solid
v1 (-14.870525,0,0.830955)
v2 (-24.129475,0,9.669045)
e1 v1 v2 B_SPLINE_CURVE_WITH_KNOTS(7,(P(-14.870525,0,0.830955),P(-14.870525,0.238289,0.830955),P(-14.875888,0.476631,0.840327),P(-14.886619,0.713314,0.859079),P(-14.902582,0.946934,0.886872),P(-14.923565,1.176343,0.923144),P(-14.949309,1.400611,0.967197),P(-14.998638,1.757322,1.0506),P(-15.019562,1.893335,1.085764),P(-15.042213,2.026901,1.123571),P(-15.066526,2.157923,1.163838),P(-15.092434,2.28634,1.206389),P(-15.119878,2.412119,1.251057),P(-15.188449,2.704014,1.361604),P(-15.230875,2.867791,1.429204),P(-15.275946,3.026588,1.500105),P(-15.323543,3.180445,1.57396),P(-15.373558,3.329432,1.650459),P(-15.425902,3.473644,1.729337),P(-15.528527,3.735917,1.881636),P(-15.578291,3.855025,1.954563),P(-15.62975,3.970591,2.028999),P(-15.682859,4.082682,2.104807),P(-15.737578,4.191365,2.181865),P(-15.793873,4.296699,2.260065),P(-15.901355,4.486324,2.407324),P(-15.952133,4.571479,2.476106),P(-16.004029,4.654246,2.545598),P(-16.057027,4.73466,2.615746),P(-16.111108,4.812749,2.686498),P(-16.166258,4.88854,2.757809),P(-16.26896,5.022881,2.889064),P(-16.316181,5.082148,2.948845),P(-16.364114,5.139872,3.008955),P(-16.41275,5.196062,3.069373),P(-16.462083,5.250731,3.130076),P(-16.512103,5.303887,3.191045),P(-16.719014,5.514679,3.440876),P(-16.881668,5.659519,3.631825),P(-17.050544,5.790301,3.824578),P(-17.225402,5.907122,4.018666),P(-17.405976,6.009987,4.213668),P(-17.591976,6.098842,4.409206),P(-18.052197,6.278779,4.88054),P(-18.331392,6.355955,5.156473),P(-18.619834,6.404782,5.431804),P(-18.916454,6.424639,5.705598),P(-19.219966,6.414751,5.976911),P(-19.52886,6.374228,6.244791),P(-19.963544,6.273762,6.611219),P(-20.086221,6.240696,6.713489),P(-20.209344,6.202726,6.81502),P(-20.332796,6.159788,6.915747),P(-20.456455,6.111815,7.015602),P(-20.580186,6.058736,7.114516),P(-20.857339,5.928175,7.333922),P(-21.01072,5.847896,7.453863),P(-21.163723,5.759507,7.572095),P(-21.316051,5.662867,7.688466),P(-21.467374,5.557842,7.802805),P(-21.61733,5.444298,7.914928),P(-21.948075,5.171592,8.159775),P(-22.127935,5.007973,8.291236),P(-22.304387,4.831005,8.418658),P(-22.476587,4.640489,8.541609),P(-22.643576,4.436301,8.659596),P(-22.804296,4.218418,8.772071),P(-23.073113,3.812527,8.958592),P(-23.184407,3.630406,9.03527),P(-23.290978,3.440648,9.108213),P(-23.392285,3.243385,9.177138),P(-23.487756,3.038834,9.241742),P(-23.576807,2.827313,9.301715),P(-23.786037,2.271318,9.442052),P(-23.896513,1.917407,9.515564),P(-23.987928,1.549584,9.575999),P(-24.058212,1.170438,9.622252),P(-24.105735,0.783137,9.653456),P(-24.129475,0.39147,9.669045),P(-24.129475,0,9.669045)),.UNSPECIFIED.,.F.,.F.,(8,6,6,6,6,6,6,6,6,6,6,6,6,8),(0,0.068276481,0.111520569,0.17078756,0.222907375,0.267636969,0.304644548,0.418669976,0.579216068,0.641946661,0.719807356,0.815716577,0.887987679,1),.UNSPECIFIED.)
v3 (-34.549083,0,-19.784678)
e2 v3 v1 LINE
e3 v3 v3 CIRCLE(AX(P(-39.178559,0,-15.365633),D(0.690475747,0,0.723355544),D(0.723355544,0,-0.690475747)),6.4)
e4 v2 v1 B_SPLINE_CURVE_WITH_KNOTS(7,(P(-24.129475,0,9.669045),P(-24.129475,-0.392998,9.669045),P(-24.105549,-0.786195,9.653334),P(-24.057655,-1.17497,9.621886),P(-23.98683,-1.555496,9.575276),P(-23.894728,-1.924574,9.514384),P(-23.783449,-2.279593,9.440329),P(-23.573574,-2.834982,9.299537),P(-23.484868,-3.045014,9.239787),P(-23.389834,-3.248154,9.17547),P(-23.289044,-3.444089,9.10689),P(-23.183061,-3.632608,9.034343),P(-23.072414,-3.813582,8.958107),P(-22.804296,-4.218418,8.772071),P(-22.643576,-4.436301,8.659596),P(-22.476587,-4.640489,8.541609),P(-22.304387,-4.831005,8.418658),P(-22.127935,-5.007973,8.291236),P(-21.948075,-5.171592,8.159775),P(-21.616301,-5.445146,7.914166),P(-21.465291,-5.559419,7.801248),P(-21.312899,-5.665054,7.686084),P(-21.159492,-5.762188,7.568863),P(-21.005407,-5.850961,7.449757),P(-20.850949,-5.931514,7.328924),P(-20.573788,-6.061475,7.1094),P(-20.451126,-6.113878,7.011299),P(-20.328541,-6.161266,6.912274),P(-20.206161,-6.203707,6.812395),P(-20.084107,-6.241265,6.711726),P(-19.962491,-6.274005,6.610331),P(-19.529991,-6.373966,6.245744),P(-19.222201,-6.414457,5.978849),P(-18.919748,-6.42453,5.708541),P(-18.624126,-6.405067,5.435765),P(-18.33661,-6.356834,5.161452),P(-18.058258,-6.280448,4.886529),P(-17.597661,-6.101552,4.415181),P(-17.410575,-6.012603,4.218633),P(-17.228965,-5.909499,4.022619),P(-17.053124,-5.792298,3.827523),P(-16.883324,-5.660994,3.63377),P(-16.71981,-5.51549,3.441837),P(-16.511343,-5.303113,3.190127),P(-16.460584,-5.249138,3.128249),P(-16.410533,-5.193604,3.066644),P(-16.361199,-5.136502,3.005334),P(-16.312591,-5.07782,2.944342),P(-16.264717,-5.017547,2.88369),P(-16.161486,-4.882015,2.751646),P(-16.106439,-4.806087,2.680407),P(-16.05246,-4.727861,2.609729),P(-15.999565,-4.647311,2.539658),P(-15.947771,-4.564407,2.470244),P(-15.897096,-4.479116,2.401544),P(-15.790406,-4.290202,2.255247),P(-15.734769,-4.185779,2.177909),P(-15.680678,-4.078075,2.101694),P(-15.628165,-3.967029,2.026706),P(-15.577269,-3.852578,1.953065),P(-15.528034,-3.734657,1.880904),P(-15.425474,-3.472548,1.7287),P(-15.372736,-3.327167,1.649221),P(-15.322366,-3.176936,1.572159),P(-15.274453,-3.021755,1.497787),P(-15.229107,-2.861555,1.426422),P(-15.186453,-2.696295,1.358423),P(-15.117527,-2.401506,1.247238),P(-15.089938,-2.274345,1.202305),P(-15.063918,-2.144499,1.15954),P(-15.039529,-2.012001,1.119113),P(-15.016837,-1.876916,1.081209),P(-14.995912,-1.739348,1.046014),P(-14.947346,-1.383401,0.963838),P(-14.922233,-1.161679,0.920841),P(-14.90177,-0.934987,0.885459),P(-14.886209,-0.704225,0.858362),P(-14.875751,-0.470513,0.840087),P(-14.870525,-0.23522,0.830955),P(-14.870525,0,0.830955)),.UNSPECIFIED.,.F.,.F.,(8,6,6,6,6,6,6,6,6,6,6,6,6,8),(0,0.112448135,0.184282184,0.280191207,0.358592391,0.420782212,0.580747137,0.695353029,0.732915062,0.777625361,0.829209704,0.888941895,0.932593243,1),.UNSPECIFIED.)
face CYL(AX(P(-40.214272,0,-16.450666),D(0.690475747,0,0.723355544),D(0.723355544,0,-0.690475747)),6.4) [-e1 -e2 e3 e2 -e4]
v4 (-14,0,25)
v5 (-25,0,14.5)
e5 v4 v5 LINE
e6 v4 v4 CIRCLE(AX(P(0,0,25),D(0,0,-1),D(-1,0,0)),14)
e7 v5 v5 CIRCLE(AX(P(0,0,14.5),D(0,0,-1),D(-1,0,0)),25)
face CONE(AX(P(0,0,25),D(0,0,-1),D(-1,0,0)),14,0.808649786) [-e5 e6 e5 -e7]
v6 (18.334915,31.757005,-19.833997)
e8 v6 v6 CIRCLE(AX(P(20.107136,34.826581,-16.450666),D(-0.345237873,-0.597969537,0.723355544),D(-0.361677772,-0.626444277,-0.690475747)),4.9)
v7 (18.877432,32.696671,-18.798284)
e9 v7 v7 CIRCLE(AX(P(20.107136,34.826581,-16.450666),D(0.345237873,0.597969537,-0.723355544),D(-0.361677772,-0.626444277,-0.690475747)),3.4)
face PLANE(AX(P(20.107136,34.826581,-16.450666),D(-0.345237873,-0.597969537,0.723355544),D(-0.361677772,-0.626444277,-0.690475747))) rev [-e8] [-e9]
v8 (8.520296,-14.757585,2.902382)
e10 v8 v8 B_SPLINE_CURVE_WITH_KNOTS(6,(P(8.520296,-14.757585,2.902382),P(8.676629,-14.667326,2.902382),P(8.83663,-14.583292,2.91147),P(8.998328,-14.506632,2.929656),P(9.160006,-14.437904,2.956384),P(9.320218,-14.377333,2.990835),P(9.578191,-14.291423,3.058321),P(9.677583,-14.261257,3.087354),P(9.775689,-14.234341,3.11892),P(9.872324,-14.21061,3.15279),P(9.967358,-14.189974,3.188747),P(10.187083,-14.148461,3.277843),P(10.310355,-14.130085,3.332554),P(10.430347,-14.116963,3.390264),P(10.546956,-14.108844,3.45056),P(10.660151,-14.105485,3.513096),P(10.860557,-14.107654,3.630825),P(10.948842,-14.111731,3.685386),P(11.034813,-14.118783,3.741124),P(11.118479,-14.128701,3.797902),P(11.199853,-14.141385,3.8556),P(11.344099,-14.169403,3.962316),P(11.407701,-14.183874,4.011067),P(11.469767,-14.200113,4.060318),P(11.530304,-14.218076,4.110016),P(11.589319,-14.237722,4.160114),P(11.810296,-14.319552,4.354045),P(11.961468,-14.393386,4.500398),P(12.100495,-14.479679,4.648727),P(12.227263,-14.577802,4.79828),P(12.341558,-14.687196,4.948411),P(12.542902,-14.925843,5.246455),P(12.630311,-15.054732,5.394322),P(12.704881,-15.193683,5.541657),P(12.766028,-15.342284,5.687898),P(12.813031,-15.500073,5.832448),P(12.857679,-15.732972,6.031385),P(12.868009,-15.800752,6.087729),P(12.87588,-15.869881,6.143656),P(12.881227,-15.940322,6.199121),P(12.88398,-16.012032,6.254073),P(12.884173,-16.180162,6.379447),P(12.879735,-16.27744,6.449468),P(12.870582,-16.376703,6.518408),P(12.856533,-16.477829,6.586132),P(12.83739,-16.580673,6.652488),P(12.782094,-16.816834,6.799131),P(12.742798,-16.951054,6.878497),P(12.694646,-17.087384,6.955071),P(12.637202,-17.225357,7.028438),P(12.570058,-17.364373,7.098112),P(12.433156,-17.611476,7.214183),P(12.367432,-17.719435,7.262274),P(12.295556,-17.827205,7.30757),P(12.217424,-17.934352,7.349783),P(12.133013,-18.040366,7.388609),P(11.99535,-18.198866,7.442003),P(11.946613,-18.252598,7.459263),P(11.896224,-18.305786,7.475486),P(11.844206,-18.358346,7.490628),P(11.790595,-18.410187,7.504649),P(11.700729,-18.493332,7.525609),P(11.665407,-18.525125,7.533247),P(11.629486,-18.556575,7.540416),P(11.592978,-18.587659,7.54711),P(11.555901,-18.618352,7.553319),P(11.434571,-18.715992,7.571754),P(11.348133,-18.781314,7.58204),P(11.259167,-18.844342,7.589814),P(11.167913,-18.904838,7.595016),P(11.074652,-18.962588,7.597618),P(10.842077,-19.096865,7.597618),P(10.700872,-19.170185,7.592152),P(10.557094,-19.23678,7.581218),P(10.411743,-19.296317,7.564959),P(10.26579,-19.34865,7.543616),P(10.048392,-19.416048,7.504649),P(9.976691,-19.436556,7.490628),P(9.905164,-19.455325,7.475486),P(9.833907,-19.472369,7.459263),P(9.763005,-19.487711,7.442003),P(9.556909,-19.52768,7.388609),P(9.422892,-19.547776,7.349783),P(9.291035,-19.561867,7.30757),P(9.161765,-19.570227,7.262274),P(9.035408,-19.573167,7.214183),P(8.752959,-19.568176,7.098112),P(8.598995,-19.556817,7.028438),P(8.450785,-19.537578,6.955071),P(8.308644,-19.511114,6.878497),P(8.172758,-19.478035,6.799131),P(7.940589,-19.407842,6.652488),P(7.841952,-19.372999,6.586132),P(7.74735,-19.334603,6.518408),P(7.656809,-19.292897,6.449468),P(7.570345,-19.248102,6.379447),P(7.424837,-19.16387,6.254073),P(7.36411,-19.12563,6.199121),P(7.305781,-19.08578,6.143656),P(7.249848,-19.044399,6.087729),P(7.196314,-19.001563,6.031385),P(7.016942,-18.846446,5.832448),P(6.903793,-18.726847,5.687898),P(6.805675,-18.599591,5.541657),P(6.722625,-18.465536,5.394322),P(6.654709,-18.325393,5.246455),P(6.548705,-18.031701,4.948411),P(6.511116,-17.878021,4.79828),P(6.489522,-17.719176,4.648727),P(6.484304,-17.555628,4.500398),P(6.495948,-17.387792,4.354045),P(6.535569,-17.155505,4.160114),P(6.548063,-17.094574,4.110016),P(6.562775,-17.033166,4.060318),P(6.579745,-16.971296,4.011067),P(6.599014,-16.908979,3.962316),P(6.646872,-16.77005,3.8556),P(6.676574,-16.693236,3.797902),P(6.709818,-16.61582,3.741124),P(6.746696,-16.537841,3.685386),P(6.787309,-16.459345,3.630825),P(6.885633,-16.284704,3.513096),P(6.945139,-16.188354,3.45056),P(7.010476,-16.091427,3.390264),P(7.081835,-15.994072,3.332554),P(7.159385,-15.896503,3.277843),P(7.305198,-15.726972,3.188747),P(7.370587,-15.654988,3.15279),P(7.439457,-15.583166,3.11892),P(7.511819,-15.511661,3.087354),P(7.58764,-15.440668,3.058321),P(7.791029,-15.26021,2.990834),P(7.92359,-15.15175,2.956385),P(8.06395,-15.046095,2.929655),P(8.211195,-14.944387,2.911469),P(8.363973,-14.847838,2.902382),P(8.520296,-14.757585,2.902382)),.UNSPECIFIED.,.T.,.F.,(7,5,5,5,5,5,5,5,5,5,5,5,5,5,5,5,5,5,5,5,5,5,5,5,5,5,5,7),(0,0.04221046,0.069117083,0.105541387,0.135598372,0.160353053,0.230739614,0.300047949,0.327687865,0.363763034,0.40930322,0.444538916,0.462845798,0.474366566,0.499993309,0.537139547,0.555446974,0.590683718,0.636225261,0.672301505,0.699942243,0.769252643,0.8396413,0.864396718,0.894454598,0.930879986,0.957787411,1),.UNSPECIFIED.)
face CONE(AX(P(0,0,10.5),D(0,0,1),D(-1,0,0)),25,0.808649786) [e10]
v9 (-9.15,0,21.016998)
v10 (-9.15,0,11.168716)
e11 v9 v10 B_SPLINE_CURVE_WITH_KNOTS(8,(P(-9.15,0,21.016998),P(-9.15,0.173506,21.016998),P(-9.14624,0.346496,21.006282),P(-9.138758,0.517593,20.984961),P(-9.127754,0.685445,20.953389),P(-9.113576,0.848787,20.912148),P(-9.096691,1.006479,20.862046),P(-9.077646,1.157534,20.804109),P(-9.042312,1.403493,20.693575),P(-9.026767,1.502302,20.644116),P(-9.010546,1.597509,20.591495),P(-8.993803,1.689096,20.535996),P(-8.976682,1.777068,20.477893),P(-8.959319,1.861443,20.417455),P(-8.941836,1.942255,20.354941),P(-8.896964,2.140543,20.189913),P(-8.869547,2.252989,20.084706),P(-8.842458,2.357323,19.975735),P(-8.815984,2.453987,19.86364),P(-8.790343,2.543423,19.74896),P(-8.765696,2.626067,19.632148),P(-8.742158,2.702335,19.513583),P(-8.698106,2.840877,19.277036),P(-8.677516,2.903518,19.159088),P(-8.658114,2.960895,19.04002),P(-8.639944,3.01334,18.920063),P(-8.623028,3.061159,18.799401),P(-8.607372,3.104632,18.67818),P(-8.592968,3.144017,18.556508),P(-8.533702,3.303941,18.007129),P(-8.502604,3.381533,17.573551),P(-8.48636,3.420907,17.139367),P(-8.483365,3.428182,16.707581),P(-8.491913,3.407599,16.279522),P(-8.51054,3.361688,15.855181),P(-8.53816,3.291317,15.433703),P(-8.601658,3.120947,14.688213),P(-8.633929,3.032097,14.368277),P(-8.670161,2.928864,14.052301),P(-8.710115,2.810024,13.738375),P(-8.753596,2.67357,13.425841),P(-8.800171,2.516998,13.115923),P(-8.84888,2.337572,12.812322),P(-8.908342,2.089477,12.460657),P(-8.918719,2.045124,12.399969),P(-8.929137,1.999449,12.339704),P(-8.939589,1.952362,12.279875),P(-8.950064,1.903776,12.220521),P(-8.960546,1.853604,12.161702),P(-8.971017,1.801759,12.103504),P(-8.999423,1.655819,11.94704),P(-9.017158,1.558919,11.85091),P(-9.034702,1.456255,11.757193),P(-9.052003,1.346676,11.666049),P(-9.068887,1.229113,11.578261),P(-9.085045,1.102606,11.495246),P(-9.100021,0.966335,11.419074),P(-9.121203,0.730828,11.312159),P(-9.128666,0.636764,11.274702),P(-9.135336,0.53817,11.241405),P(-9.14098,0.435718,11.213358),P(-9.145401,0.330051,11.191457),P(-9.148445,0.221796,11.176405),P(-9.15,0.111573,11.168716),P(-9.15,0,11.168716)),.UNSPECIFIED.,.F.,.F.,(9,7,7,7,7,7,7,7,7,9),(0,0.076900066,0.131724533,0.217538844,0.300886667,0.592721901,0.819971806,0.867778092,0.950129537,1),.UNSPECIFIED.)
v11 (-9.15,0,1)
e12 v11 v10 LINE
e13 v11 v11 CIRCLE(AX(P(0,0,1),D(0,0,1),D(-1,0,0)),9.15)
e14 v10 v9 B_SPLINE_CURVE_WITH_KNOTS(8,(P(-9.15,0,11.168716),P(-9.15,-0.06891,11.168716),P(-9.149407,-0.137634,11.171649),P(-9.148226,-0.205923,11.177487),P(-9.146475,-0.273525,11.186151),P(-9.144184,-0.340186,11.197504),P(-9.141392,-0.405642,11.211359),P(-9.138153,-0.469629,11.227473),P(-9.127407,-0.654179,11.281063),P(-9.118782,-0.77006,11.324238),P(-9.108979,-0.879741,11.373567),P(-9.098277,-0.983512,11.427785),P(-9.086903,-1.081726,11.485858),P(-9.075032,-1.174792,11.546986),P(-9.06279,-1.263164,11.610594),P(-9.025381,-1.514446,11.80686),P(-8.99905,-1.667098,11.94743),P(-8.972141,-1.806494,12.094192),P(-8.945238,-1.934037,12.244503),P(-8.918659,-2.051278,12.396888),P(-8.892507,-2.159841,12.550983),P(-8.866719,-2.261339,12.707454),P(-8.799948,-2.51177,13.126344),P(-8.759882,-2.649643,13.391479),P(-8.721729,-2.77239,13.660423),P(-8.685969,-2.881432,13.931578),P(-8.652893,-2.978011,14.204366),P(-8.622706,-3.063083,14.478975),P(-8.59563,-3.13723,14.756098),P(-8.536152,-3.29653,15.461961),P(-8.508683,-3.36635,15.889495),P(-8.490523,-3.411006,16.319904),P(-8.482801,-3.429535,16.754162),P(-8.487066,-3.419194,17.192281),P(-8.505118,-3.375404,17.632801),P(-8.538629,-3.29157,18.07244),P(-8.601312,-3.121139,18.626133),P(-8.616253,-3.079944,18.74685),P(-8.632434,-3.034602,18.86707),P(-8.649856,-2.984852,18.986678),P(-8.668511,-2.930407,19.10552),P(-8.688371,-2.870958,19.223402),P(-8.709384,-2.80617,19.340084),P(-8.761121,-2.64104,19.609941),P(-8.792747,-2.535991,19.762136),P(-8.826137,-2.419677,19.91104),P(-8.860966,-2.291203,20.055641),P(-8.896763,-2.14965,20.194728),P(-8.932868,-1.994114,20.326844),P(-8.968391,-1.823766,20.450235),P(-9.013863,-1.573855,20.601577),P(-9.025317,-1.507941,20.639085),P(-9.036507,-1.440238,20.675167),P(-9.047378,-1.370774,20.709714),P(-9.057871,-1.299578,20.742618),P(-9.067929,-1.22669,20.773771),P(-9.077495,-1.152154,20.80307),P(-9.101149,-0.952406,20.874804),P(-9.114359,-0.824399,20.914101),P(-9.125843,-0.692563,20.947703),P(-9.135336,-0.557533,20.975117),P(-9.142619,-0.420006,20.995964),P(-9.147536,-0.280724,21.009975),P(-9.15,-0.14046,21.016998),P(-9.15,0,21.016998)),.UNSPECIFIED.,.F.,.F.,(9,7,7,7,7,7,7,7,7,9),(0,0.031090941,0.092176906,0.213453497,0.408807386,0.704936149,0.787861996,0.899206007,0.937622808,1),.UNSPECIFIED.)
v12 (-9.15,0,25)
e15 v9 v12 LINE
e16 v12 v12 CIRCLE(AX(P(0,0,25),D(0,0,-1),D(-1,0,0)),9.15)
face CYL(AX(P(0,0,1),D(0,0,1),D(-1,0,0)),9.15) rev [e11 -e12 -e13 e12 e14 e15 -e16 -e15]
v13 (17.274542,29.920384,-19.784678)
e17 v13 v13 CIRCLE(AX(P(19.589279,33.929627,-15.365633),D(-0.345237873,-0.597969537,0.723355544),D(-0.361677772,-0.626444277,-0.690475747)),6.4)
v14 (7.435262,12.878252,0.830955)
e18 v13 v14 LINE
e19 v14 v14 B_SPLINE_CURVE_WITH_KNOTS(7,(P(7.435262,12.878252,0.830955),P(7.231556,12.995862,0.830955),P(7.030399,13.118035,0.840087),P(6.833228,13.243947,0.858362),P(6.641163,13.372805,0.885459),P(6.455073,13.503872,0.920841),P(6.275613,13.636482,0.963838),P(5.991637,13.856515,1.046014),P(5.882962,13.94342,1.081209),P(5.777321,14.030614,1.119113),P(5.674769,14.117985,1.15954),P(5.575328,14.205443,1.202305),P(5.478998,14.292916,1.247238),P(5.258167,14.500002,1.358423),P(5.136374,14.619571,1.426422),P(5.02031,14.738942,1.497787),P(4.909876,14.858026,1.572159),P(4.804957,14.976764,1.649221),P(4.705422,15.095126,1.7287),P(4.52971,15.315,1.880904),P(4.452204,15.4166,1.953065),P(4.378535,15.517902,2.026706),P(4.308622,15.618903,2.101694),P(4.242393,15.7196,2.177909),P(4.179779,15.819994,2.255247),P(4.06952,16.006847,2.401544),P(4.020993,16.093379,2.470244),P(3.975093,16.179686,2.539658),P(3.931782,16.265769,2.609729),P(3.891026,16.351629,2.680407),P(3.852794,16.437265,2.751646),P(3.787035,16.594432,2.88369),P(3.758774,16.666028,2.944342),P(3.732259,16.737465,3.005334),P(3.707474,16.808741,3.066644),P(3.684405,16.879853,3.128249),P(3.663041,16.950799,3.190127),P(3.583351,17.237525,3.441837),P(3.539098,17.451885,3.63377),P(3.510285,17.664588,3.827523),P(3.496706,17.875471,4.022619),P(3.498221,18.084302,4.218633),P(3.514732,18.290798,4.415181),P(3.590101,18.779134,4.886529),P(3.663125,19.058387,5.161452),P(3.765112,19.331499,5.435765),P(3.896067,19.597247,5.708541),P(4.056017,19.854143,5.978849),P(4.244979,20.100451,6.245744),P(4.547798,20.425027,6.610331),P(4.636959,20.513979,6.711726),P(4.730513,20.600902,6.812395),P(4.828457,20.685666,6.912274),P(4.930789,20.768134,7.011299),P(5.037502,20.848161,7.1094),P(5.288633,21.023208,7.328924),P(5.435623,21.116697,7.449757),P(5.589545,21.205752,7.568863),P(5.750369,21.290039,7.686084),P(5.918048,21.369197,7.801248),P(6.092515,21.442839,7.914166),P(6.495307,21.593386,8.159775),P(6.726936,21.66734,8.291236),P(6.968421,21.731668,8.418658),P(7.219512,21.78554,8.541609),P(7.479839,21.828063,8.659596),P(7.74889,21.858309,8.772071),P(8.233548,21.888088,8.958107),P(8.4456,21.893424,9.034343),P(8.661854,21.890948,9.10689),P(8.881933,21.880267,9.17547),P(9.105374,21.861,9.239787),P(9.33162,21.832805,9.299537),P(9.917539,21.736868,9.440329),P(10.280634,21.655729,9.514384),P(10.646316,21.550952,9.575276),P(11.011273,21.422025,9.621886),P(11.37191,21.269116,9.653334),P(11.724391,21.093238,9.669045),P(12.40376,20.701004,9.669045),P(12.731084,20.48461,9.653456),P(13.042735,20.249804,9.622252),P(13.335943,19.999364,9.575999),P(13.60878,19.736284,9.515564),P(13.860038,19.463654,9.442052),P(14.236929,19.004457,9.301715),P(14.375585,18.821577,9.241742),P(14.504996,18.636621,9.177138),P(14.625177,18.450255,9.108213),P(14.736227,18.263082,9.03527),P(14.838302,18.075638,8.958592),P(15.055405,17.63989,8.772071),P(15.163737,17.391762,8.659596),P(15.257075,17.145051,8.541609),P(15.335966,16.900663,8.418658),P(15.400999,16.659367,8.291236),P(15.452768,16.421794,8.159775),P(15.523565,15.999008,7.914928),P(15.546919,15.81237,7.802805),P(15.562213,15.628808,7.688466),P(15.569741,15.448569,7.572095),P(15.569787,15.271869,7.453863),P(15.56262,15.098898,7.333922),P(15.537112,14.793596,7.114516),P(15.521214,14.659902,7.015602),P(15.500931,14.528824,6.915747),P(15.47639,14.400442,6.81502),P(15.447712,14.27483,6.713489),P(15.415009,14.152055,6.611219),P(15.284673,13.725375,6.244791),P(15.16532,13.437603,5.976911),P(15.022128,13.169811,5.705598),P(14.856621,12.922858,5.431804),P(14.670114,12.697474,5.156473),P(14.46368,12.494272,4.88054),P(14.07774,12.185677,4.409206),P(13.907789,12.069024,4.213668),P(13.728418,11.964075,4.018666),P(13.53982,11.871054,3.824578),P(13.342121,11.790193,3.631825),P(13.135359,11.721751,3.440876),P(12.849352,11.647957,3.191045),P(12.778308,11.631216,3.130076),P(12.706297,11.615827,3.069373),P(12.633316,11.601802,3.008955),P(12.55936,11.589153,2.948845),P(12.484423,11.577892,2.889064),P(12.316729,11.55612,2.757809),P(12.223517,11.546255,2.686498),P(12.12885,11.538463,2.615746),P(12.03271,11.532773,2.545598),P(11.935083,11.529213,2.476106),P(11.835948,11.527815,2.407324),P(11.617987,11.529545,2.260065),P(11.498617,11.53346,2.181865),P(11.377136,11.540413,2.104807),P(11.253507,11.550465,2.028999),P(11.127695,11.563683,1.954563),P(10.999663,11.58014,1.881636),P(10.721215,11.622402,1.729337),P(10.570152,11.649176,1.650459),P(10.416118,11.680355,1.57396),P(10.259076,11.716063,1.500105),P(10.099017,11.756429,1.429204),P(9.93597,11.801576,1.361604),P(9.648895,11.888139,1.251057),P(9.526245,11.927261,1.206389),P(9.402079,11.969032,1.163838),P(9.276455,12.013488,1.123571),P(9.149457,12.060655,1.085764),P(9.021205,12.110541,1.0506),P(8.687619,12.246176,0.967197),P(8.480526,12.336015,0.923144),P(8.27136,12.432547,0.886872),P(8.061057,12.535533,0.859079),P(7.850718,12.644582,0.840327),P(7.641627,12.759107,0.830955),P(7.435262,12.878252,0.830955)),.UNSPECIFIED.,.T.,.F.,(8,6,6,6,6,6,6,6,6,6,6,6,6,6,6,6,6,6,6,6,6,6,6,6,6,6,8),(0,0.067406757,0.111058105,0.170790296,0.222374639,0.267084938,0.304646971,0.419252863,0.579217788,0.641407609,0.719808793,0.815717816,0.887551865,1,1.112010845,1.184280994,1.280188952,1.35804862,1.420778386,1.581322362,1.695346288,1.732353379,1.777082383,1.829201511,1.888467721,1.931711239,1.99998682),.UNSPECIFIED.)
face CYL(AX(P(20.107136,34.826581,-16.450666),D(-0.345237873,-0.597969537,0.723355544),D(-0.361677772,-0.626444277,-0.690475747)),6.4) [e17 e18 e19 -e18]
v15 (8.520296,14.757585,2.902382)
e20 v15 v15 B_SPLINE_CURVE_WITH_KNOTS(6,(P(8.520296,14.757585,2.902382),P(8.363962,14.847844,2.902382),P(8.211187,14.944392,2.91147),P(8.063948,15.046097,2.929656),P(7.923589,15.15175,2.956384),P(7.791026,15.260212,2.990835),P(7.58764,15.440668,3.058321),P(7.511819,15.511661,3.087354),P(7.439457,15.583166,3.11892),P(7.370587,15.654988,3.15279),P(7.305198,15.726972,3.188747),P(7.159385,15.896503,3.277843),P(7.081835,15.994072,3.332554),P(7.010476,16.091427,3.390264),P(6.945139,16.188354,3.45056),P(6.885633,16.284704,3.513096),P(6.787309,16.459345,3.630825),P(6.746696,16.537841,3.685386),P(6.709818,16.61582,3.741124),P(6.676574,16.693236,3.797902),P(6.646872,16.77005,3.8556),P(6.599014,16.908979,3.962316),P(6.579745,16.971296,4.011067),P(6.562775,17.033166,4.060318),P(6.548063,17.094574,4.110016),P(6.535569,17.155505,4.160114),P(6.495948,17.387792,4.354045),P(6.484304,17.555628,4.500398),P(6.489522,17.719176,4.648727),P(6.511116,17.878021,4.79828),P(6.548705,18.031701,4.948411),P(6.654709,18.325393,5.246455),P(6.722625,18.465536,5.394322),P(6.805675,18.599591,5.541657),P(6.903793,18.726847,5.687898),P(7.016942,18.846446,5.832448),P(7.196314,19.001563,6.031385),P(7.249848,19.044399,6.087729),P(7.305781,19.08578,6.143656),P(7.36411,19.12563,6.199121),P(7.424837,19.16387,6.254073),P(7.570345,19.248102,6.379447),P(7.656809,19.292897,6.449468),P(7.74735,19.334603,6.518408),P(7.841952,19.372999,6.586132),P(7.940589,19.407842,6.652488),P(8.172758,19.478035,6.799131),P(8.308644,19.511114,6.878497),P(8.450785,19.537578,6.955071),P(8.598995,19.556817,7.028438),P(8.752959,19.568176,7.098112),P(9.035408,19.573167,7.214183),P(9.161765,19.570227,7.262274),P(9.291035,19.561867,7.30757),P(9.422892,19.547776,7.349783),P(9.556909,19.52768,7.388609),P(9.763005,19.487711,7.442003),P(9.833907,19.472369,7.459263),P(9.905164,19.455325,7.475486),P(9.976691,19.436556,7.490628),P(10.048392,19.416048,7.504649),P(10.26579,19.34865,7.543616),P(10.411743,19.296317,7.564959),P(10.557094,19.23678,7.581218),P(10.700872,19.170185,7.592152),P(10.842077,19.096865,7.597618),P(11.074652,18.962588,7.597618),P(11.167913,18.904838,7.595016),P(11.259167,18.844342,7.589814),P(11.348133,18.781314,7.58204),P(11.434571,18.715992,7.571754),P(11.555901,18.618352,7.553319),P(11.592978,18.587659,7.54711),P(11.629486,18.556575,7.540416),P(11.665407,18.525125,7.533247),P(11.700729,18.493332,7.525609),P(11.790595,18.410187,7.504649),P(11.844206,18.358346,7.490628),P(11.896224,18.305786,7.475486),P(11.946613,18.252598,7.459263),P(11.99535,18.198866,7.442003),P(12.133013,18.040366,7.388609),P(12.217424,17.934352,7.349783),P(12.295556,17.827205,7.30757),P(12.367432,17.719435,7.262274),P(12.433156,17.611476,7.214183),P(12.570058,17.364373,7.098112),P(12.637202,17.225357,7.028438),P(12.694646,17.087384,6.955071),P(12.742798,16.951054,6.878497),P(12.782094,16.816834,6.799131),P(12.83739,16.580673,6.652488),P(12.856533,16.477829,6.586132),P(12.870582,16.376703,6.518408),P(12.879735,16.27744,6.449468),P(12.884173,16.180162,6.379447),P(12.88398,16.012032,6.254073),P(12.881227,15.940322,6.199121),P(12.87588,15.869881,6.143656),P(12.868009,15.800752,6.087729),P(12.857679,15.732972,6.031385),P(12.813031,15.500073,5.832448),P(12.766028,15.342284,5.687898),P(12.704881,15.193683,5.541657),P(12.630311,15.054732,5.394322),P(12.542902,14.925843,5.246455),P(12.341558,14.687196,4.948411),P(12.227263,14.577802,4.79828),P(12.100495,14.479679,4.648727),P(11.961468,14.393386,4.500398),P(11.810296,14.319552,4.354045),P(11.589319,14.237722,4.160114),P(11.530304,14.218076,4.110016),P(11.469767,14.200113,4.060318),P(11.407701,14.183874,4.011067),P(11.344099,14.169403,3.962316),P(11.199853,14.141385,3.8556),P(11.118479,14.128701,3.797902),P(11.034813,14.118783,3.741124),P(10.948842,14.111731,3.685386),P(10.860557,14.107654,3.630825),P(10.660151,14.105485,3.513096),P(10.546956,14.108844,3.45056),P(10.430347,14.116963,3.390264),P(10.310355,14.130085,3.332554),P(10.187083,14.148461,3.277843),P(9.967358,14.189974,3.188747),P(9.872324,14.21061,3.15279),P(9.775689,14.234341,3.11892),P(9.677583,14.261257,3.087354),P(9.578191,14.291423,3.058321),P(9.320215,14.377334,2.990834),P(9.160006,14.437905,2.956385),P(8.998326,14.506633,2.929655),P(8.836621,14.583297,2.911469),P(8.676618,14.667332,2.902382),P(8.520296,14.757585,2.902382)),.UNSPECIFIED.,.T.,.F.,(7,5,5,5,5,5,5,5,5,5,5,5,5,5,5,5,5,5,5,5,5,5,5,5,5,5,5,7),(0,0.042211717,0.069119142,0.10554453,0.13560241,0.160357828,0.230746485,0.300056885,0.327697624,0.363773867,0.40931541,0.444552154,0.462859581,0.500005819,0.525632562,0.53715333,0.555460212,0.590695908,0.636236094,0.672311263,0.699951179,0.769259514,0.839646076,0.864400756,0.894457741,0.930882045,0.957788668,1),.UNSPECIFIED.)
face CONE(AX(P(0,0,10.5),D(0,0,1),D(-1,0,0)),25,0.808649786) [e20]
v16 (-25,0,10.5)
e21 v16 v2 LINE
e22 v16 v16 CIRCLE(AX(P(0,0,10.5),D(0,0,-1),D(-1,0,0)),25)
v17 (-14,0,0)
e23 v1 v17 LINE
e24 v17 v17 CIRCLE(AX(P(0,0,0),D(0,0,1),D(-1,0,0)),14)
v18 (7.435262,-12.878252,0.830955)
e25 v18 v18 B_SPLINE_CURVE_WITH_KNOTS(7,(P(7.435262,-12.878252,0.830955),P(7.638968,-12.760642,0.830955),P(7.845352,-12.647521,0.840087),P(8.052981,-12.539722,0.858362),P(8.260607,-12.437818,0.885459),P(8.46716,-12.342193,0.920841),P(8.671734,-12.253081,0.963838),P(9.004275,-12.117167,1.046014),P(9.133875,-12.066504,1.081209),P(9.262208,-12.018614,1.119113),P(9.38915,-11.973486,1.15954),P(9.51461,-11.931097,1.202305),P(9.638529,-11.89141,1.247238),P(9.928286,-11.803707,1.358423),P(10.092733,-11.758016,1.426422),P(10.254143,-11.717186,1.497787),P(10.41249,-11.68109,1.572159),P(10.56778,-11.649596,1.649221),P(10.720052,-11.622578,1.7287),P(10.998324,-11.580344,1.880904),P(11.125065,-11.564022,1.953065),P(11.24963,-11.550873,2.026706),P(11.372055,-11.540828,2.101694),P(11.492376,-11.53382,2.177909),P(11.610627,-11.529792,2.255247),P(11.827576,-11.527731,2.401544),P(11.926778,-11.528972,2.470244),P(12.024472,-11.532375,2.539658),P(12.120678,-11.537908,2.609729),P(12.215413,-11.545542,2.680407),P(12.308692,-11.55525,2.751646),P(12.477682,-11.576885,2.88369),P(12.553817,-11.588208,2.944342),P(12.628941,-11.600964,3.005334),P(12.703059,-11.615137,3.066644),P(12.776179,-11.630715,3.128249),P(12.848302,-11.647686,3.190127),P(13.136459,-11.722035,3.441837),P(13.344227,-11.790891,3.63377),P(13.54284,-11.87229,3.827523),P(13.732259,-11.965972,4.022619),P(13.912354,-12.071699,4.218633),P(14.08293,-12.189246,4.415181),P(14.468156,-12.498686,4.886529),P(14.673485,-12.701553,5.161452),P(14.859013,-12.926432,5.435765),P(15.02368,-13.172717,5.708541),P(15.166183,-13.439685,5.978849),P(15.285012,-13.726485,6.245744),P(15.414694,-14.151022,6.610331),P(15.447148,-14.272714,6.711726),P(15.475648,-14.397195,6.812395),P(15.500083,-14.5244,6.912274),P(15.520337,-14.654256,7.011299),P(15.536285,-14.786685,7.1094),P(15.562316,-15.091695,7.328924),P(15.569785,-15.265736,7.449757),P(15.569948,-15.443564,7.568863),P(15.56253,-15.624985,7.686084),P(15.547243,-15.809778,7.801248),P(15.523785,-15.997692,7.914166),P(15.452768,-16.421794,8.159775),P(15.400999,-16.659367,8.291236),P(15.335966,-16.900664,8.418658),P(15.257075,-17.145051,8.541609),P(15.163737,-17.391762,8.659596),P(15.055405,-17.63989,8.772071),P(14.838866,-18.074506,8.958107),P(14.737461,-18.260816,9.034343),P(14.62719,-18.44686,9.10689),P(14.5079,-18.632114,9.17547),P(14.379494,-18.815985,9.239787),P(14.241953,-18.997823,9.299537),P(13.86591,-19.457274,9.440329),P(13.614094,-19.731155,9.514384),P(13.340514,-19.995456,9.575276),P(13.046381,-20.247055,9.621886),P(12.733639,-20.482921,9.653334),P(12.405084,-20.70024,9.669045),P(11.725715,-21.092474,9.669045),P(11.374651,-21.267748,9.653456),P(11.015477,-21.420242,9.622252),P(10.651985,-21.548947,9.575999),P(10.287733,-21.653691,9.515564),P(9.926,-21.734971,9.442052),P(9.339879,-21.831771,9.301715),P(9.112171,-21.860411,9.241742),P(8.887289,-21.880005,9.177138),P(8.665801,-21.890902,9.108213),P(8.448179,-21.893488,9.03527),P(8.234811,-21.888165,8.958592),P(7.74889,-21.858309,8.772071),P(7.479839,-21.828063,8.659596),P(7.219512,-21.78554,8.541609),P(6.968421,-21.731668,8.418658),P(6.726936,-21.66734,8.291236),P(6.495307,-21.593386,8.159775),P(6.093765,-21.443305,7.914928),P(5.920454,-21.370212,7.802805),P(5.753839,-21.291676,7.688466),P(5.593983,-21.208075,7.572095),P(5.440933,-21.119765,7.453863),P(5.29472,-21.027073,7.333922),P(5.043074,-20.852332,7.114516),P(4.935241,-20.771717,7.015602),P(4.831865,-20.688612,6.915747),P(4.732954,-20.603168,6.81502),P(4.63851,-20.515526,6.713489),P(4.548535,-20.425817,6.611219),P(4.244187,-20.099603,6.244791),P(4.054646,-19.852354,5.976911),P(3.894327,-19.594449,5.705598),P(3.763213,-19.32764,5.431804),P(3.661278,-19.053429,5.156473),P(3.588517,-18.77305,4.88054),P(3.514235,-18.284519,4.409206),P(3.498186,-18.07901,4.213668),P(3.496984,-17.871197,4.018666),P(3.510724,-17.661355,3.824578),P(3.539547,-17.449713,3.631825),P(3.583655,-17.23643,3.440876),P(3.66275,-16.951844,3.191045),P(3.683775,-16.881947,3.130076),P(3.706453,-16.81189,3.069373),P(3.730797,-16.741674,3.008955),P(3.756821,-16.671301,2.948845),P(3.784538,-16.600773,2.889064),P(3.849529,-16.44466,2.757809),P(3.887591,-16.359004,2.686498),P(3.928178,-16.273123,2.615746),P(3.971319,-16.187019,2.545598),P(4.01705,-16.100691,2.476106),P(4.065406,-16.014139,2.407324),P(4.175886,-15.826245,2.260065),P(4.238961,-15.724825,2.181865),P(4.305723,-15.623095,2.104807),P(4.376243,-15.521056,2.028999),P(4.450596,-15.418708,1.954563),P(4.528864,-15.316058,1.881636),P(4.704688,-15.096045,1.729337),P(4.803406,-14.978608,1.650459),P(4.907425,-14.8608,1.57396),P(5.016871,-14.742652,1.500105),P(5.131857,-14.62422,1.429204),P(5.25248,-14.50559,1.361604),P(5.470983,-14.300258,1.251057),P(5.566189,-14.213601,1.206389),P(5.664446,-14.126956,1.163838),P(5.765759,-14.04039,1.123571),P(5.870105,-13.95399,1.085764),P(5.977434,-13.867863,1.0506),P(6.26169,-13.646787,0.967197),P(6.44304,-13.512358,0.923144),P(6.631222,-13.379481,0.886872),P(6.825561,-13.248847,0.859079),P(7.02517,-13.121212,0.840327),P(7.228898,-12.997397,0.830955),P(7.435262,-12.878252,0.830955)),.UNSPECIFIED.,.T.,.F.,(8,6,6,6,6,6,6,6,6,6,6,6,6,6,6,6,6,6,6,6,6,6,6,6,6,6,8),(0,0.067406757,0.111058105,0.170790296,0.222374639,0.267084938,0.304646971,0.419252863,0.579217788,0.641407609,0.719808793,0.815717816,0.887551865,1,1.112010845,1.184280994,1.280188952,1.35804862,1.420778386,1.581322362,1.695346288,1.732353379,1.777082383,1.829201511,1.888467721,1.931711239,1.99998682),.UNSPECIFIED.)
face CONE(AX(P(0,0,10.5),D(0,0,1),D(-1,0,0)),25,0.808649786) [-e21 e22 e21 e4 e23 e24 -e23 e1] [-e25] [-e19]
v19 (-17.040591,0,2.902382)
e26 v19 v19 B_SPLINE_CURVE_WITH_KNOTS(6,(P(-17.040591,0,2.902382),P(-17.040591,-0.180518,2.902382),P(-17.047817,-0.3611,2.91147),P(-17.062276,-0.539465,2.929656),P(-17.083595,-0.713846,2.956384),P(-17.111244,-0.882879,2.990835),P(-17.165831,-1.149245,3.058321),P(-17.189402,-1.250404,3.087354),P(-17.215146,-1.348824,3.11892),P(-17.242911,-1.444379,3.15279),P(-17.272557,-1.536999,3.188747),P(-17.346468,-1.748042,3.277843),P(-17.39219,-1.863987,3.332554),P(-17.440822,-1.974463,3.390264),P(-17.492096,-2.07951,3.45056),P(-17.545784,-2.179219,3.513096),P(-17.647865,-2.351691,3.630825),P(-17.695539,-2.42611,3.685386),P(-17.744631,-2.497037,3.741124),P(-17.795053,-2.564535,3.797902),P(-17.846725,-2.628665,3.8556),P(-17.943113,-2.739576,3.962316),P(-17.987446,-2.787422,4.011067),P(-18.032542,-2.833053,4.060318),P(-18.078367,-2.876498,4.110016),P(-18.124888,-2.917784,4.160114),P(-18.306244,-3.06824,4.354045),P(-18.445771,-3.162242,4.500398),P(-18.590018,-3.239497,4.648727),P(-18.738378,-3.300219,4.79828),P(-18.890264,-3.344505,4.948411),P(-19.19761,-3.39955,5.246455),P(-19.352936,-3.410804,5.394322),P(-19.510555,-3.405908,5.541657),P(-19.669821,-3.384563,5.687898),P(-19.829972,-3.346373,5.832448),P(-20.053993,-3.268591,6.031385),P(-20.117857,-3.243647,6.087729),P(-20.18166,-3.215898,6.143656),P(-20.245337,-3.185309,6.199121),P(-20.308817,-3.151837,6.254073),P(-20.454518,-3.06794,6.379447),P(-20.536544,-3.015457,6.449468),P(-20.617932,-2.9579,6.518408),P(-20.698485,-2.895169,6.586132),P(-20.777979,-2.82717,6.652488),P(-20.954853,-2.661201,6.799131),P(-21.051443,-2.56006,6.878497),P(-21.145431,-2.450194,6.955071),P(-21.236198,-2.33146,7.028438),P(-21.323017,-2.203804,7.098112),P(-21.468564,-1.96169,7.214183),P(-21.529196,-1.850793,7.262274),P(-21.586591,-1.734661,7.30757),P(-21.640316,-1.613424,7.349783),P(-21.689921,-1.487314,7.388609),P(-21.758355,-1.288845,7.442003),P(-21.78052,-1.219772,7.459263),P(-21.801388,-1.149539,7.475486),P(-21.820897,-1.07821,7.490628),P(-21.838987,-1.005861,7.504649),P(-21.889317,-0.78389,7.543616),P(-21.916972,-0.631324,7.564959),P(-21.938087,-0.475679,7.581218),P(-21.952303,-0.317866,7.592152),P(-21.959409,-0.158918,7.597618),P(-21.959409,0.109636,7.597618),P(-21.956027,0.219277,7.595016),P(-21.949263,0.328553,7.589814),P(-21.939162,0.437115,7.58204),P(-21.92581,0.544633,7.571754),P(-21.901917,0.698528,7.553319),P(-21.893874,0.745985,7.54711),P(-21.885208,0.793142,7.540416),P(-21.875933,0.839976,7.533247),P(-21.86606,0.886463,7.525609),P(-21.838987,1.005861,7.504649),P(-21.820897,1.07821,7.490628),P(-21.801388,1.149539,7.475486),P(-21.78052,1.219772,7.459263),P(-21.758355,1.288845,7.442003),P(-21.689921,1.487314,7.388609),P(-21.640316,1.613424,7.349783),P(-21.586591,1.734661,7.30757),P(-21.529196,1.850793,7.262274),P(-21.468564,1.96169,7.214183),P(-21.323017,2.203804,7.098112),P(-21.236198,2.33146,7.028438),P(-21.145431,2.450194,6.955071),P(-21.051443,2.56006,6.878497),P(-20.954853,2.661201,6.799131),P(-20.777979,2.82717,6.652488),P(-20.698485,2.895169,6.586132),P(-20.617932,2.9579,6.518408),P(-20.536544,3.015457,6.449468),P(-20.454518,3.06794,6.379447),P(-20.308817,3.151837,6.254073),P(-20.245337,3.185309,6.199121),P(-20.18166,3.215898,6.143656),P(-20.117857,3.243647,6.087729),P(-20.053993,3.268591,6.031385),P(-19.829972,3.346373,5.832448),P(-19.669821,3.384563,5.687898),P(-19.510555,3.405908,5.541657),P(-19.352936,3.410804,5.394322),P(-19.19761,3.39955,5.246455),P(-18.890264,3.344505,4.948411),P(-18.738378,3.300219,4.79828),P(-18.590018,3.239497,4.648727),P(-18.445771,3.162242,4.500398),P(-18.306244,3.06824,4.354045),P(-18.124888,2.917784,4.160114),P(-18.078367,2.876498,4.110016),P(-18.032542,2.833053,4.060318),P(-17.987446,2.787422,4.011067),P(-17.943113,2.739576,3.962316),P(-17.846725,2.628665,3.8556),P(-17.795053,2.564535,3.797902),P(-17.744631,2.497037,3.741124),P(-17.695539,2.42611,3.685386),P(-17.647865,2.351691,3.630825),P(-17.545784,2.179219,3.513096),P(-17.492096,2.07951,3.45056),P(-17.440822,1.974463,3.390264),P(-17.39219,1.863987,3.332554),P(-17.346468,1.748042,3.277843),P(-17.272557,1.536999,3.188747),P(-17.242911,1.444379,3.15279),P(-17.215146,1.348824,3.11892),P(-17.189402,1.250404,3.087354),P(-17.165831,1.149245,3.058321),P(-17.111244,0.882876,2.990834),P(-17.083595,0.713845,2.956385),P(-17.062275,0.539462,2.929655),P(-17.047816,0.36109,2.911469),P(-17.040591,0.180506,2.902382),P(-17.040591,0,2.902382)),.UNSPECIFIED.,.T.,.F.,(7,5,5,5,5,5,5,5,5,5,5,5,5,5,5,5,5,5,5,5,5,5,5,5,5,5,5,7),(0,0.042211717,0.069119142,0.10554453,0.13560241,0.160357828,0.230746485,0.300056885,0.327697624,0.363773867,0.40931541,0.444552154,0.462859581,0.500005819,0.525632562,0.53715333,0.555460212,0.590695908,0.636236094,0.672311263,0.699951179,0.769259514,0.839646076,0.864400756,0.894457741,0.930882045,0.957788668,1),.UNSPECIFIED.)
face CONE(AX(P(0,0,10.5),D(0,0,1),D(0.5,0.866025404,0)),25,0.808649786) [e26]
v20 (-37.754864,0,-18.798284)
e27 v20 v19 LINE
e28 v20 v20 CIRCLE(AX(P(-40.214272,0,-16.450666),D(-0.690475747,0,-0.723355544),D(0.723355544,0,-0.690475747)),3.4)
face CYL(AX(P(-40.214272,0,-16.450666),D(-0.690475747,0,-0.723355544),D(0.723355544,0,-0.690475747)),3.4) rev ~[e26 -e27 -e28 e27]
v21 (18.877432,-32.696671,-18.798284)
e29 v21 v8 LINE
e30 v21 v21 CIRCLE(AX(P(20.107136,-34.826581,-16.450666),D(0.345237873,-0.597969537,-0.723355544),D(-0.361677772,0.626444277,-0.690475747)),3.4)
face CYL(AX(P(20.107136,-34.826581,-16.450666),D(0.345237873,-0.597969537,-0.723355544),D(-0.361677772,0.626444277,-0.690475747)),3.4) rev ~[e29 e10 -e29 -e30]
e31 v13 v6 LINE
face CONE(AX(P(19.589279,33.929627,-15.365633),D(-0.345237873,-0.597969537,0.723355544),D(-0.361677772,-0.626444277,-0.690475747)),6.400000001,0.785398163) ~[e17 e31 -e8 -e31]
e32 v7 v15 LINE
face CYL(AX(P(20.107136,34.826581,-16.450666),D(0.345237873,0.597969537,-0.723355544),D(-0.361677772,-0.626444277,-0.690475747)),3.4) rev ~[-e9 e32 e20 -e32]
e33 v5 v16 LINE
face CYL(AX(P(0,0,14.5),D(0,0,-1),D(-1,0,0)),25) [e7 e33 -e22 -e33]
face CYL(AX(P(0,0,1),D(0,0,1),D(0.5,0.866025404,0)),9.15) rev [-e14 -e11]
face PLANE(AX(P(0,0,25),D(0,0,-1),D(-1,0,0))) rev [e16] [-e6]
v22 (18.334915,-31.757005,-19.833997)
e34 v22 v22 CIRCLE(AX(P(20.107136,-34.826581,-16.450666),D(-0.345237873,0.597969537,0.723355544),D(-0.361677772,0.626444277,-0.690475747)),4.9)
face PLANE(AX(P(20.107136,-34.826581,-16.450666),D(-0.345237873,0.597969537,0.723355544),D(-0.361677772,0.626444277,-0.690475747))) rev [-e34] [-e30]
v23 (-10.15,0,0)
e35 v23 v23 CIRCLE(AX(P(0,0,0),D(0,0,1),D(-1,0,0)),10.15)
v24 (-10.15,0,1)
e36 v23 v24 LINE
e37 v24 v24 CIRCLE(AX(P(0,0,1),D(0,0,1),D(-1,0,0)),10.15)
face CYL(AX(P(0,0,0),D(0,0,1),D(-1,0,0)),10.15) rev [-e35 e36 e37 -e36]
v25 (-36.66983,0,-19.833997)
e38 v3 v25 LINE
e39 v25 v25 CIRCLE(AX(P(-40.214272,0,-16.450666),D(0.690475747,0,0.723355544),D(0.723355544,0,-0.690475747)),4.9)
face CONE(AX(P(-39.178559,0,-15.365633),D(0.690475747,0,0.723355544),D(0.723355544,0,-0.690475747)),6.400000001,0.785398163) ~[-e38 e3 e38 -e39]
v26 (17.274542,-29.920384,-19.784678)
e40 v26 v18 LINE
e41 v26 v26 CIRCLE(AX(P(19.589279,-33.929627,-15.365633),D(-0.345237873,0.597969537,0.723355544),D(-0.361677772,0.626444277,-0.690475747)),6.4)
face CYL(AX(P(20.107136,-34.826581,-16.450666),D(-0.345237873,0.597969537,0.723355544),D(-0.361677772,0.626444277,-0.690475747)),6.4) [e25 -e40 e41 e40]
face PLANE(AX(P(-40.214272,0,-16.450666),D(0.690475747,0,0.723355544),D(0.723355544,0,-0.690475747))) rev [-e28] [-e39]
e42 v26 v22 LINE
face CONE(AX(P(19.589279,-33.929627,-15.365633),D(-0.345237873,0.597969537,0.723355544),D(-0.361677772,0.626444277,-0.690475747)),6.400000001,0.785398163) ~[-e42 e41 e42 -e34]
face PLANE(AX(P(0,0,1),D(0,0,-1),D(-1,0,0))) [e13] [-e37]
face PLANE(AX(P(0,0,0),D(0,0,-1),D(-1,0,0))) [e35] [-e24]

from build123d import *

# Parameters (mm, degrees)
F4_R     = 3.4
F5_DEPTH = 75.0134427933
F6_SIZE  = 1.5
F7_COUNT = 3


with BuildPart() as f1:
    # F0 (on Front) → F1 (revolve)
    with BuildSketch(Plane.XZ):
        Polygon((-9.15, 1), (-9.15, 25), (-14, 25), (-25, 14.5), (-25, 10.5), (-14, 0), (-10.15, 0), (-10.15, 1), align=None)
    revolve(axis=Axis((0, 0, 12.5), (0, 0, -1)))

    # F2 (on Front) → F3 (revolve)
    with BuildSketch(Plane.XZ):
        Polygon((-35.584796918, -20.8697111031), (-14.8705245175, 0.8309552212), (-10.4189875067, 5.4944701849), (-15.0484629892, 9.9135149637), (-19.5, 5.25), (-40.2142724005, -16.4506663243), align=None)
    revolve(axis=Axis((-29.8571362002, 0, -5.6003331622), (0.6904757467, 0, 0.7233555441)))

    # F4 (on face) → F5 (cut, through all)
    with BuildSketch(Plane(origin=(-27.3888669951, 0, -28.6930987567), x_dir=(0.7233555441, 0, -0.6904757467), z_dir=(-0.6904757467, 0, -0.7233555441))):
        with Locations((-17.7304307809, 0)):
            Circle(F4_R)
    extrude(amount=-F5_DEPTH, mode=Mode.SUBTRACT)

    # F6
    f6_edges = [f1.edges().sort_by_distance(p)[0] for p in [
        (-44.843748, 0, -12.031622),
    ]]
    chamfer(f6_edges, length=F6_SIZE)

    # F7: F1 ×3 about axis
    f7_axis = Axis((0, 0, 14.5), (0, 0, -1))


with BuildPart() as f1_1:
    add(f1.part)
    for i in range(1, F7_COUNT):
        add(f1.part.rotate(f7_axis, i * 360 / F7_COUNT))


solid = f1_1.part
